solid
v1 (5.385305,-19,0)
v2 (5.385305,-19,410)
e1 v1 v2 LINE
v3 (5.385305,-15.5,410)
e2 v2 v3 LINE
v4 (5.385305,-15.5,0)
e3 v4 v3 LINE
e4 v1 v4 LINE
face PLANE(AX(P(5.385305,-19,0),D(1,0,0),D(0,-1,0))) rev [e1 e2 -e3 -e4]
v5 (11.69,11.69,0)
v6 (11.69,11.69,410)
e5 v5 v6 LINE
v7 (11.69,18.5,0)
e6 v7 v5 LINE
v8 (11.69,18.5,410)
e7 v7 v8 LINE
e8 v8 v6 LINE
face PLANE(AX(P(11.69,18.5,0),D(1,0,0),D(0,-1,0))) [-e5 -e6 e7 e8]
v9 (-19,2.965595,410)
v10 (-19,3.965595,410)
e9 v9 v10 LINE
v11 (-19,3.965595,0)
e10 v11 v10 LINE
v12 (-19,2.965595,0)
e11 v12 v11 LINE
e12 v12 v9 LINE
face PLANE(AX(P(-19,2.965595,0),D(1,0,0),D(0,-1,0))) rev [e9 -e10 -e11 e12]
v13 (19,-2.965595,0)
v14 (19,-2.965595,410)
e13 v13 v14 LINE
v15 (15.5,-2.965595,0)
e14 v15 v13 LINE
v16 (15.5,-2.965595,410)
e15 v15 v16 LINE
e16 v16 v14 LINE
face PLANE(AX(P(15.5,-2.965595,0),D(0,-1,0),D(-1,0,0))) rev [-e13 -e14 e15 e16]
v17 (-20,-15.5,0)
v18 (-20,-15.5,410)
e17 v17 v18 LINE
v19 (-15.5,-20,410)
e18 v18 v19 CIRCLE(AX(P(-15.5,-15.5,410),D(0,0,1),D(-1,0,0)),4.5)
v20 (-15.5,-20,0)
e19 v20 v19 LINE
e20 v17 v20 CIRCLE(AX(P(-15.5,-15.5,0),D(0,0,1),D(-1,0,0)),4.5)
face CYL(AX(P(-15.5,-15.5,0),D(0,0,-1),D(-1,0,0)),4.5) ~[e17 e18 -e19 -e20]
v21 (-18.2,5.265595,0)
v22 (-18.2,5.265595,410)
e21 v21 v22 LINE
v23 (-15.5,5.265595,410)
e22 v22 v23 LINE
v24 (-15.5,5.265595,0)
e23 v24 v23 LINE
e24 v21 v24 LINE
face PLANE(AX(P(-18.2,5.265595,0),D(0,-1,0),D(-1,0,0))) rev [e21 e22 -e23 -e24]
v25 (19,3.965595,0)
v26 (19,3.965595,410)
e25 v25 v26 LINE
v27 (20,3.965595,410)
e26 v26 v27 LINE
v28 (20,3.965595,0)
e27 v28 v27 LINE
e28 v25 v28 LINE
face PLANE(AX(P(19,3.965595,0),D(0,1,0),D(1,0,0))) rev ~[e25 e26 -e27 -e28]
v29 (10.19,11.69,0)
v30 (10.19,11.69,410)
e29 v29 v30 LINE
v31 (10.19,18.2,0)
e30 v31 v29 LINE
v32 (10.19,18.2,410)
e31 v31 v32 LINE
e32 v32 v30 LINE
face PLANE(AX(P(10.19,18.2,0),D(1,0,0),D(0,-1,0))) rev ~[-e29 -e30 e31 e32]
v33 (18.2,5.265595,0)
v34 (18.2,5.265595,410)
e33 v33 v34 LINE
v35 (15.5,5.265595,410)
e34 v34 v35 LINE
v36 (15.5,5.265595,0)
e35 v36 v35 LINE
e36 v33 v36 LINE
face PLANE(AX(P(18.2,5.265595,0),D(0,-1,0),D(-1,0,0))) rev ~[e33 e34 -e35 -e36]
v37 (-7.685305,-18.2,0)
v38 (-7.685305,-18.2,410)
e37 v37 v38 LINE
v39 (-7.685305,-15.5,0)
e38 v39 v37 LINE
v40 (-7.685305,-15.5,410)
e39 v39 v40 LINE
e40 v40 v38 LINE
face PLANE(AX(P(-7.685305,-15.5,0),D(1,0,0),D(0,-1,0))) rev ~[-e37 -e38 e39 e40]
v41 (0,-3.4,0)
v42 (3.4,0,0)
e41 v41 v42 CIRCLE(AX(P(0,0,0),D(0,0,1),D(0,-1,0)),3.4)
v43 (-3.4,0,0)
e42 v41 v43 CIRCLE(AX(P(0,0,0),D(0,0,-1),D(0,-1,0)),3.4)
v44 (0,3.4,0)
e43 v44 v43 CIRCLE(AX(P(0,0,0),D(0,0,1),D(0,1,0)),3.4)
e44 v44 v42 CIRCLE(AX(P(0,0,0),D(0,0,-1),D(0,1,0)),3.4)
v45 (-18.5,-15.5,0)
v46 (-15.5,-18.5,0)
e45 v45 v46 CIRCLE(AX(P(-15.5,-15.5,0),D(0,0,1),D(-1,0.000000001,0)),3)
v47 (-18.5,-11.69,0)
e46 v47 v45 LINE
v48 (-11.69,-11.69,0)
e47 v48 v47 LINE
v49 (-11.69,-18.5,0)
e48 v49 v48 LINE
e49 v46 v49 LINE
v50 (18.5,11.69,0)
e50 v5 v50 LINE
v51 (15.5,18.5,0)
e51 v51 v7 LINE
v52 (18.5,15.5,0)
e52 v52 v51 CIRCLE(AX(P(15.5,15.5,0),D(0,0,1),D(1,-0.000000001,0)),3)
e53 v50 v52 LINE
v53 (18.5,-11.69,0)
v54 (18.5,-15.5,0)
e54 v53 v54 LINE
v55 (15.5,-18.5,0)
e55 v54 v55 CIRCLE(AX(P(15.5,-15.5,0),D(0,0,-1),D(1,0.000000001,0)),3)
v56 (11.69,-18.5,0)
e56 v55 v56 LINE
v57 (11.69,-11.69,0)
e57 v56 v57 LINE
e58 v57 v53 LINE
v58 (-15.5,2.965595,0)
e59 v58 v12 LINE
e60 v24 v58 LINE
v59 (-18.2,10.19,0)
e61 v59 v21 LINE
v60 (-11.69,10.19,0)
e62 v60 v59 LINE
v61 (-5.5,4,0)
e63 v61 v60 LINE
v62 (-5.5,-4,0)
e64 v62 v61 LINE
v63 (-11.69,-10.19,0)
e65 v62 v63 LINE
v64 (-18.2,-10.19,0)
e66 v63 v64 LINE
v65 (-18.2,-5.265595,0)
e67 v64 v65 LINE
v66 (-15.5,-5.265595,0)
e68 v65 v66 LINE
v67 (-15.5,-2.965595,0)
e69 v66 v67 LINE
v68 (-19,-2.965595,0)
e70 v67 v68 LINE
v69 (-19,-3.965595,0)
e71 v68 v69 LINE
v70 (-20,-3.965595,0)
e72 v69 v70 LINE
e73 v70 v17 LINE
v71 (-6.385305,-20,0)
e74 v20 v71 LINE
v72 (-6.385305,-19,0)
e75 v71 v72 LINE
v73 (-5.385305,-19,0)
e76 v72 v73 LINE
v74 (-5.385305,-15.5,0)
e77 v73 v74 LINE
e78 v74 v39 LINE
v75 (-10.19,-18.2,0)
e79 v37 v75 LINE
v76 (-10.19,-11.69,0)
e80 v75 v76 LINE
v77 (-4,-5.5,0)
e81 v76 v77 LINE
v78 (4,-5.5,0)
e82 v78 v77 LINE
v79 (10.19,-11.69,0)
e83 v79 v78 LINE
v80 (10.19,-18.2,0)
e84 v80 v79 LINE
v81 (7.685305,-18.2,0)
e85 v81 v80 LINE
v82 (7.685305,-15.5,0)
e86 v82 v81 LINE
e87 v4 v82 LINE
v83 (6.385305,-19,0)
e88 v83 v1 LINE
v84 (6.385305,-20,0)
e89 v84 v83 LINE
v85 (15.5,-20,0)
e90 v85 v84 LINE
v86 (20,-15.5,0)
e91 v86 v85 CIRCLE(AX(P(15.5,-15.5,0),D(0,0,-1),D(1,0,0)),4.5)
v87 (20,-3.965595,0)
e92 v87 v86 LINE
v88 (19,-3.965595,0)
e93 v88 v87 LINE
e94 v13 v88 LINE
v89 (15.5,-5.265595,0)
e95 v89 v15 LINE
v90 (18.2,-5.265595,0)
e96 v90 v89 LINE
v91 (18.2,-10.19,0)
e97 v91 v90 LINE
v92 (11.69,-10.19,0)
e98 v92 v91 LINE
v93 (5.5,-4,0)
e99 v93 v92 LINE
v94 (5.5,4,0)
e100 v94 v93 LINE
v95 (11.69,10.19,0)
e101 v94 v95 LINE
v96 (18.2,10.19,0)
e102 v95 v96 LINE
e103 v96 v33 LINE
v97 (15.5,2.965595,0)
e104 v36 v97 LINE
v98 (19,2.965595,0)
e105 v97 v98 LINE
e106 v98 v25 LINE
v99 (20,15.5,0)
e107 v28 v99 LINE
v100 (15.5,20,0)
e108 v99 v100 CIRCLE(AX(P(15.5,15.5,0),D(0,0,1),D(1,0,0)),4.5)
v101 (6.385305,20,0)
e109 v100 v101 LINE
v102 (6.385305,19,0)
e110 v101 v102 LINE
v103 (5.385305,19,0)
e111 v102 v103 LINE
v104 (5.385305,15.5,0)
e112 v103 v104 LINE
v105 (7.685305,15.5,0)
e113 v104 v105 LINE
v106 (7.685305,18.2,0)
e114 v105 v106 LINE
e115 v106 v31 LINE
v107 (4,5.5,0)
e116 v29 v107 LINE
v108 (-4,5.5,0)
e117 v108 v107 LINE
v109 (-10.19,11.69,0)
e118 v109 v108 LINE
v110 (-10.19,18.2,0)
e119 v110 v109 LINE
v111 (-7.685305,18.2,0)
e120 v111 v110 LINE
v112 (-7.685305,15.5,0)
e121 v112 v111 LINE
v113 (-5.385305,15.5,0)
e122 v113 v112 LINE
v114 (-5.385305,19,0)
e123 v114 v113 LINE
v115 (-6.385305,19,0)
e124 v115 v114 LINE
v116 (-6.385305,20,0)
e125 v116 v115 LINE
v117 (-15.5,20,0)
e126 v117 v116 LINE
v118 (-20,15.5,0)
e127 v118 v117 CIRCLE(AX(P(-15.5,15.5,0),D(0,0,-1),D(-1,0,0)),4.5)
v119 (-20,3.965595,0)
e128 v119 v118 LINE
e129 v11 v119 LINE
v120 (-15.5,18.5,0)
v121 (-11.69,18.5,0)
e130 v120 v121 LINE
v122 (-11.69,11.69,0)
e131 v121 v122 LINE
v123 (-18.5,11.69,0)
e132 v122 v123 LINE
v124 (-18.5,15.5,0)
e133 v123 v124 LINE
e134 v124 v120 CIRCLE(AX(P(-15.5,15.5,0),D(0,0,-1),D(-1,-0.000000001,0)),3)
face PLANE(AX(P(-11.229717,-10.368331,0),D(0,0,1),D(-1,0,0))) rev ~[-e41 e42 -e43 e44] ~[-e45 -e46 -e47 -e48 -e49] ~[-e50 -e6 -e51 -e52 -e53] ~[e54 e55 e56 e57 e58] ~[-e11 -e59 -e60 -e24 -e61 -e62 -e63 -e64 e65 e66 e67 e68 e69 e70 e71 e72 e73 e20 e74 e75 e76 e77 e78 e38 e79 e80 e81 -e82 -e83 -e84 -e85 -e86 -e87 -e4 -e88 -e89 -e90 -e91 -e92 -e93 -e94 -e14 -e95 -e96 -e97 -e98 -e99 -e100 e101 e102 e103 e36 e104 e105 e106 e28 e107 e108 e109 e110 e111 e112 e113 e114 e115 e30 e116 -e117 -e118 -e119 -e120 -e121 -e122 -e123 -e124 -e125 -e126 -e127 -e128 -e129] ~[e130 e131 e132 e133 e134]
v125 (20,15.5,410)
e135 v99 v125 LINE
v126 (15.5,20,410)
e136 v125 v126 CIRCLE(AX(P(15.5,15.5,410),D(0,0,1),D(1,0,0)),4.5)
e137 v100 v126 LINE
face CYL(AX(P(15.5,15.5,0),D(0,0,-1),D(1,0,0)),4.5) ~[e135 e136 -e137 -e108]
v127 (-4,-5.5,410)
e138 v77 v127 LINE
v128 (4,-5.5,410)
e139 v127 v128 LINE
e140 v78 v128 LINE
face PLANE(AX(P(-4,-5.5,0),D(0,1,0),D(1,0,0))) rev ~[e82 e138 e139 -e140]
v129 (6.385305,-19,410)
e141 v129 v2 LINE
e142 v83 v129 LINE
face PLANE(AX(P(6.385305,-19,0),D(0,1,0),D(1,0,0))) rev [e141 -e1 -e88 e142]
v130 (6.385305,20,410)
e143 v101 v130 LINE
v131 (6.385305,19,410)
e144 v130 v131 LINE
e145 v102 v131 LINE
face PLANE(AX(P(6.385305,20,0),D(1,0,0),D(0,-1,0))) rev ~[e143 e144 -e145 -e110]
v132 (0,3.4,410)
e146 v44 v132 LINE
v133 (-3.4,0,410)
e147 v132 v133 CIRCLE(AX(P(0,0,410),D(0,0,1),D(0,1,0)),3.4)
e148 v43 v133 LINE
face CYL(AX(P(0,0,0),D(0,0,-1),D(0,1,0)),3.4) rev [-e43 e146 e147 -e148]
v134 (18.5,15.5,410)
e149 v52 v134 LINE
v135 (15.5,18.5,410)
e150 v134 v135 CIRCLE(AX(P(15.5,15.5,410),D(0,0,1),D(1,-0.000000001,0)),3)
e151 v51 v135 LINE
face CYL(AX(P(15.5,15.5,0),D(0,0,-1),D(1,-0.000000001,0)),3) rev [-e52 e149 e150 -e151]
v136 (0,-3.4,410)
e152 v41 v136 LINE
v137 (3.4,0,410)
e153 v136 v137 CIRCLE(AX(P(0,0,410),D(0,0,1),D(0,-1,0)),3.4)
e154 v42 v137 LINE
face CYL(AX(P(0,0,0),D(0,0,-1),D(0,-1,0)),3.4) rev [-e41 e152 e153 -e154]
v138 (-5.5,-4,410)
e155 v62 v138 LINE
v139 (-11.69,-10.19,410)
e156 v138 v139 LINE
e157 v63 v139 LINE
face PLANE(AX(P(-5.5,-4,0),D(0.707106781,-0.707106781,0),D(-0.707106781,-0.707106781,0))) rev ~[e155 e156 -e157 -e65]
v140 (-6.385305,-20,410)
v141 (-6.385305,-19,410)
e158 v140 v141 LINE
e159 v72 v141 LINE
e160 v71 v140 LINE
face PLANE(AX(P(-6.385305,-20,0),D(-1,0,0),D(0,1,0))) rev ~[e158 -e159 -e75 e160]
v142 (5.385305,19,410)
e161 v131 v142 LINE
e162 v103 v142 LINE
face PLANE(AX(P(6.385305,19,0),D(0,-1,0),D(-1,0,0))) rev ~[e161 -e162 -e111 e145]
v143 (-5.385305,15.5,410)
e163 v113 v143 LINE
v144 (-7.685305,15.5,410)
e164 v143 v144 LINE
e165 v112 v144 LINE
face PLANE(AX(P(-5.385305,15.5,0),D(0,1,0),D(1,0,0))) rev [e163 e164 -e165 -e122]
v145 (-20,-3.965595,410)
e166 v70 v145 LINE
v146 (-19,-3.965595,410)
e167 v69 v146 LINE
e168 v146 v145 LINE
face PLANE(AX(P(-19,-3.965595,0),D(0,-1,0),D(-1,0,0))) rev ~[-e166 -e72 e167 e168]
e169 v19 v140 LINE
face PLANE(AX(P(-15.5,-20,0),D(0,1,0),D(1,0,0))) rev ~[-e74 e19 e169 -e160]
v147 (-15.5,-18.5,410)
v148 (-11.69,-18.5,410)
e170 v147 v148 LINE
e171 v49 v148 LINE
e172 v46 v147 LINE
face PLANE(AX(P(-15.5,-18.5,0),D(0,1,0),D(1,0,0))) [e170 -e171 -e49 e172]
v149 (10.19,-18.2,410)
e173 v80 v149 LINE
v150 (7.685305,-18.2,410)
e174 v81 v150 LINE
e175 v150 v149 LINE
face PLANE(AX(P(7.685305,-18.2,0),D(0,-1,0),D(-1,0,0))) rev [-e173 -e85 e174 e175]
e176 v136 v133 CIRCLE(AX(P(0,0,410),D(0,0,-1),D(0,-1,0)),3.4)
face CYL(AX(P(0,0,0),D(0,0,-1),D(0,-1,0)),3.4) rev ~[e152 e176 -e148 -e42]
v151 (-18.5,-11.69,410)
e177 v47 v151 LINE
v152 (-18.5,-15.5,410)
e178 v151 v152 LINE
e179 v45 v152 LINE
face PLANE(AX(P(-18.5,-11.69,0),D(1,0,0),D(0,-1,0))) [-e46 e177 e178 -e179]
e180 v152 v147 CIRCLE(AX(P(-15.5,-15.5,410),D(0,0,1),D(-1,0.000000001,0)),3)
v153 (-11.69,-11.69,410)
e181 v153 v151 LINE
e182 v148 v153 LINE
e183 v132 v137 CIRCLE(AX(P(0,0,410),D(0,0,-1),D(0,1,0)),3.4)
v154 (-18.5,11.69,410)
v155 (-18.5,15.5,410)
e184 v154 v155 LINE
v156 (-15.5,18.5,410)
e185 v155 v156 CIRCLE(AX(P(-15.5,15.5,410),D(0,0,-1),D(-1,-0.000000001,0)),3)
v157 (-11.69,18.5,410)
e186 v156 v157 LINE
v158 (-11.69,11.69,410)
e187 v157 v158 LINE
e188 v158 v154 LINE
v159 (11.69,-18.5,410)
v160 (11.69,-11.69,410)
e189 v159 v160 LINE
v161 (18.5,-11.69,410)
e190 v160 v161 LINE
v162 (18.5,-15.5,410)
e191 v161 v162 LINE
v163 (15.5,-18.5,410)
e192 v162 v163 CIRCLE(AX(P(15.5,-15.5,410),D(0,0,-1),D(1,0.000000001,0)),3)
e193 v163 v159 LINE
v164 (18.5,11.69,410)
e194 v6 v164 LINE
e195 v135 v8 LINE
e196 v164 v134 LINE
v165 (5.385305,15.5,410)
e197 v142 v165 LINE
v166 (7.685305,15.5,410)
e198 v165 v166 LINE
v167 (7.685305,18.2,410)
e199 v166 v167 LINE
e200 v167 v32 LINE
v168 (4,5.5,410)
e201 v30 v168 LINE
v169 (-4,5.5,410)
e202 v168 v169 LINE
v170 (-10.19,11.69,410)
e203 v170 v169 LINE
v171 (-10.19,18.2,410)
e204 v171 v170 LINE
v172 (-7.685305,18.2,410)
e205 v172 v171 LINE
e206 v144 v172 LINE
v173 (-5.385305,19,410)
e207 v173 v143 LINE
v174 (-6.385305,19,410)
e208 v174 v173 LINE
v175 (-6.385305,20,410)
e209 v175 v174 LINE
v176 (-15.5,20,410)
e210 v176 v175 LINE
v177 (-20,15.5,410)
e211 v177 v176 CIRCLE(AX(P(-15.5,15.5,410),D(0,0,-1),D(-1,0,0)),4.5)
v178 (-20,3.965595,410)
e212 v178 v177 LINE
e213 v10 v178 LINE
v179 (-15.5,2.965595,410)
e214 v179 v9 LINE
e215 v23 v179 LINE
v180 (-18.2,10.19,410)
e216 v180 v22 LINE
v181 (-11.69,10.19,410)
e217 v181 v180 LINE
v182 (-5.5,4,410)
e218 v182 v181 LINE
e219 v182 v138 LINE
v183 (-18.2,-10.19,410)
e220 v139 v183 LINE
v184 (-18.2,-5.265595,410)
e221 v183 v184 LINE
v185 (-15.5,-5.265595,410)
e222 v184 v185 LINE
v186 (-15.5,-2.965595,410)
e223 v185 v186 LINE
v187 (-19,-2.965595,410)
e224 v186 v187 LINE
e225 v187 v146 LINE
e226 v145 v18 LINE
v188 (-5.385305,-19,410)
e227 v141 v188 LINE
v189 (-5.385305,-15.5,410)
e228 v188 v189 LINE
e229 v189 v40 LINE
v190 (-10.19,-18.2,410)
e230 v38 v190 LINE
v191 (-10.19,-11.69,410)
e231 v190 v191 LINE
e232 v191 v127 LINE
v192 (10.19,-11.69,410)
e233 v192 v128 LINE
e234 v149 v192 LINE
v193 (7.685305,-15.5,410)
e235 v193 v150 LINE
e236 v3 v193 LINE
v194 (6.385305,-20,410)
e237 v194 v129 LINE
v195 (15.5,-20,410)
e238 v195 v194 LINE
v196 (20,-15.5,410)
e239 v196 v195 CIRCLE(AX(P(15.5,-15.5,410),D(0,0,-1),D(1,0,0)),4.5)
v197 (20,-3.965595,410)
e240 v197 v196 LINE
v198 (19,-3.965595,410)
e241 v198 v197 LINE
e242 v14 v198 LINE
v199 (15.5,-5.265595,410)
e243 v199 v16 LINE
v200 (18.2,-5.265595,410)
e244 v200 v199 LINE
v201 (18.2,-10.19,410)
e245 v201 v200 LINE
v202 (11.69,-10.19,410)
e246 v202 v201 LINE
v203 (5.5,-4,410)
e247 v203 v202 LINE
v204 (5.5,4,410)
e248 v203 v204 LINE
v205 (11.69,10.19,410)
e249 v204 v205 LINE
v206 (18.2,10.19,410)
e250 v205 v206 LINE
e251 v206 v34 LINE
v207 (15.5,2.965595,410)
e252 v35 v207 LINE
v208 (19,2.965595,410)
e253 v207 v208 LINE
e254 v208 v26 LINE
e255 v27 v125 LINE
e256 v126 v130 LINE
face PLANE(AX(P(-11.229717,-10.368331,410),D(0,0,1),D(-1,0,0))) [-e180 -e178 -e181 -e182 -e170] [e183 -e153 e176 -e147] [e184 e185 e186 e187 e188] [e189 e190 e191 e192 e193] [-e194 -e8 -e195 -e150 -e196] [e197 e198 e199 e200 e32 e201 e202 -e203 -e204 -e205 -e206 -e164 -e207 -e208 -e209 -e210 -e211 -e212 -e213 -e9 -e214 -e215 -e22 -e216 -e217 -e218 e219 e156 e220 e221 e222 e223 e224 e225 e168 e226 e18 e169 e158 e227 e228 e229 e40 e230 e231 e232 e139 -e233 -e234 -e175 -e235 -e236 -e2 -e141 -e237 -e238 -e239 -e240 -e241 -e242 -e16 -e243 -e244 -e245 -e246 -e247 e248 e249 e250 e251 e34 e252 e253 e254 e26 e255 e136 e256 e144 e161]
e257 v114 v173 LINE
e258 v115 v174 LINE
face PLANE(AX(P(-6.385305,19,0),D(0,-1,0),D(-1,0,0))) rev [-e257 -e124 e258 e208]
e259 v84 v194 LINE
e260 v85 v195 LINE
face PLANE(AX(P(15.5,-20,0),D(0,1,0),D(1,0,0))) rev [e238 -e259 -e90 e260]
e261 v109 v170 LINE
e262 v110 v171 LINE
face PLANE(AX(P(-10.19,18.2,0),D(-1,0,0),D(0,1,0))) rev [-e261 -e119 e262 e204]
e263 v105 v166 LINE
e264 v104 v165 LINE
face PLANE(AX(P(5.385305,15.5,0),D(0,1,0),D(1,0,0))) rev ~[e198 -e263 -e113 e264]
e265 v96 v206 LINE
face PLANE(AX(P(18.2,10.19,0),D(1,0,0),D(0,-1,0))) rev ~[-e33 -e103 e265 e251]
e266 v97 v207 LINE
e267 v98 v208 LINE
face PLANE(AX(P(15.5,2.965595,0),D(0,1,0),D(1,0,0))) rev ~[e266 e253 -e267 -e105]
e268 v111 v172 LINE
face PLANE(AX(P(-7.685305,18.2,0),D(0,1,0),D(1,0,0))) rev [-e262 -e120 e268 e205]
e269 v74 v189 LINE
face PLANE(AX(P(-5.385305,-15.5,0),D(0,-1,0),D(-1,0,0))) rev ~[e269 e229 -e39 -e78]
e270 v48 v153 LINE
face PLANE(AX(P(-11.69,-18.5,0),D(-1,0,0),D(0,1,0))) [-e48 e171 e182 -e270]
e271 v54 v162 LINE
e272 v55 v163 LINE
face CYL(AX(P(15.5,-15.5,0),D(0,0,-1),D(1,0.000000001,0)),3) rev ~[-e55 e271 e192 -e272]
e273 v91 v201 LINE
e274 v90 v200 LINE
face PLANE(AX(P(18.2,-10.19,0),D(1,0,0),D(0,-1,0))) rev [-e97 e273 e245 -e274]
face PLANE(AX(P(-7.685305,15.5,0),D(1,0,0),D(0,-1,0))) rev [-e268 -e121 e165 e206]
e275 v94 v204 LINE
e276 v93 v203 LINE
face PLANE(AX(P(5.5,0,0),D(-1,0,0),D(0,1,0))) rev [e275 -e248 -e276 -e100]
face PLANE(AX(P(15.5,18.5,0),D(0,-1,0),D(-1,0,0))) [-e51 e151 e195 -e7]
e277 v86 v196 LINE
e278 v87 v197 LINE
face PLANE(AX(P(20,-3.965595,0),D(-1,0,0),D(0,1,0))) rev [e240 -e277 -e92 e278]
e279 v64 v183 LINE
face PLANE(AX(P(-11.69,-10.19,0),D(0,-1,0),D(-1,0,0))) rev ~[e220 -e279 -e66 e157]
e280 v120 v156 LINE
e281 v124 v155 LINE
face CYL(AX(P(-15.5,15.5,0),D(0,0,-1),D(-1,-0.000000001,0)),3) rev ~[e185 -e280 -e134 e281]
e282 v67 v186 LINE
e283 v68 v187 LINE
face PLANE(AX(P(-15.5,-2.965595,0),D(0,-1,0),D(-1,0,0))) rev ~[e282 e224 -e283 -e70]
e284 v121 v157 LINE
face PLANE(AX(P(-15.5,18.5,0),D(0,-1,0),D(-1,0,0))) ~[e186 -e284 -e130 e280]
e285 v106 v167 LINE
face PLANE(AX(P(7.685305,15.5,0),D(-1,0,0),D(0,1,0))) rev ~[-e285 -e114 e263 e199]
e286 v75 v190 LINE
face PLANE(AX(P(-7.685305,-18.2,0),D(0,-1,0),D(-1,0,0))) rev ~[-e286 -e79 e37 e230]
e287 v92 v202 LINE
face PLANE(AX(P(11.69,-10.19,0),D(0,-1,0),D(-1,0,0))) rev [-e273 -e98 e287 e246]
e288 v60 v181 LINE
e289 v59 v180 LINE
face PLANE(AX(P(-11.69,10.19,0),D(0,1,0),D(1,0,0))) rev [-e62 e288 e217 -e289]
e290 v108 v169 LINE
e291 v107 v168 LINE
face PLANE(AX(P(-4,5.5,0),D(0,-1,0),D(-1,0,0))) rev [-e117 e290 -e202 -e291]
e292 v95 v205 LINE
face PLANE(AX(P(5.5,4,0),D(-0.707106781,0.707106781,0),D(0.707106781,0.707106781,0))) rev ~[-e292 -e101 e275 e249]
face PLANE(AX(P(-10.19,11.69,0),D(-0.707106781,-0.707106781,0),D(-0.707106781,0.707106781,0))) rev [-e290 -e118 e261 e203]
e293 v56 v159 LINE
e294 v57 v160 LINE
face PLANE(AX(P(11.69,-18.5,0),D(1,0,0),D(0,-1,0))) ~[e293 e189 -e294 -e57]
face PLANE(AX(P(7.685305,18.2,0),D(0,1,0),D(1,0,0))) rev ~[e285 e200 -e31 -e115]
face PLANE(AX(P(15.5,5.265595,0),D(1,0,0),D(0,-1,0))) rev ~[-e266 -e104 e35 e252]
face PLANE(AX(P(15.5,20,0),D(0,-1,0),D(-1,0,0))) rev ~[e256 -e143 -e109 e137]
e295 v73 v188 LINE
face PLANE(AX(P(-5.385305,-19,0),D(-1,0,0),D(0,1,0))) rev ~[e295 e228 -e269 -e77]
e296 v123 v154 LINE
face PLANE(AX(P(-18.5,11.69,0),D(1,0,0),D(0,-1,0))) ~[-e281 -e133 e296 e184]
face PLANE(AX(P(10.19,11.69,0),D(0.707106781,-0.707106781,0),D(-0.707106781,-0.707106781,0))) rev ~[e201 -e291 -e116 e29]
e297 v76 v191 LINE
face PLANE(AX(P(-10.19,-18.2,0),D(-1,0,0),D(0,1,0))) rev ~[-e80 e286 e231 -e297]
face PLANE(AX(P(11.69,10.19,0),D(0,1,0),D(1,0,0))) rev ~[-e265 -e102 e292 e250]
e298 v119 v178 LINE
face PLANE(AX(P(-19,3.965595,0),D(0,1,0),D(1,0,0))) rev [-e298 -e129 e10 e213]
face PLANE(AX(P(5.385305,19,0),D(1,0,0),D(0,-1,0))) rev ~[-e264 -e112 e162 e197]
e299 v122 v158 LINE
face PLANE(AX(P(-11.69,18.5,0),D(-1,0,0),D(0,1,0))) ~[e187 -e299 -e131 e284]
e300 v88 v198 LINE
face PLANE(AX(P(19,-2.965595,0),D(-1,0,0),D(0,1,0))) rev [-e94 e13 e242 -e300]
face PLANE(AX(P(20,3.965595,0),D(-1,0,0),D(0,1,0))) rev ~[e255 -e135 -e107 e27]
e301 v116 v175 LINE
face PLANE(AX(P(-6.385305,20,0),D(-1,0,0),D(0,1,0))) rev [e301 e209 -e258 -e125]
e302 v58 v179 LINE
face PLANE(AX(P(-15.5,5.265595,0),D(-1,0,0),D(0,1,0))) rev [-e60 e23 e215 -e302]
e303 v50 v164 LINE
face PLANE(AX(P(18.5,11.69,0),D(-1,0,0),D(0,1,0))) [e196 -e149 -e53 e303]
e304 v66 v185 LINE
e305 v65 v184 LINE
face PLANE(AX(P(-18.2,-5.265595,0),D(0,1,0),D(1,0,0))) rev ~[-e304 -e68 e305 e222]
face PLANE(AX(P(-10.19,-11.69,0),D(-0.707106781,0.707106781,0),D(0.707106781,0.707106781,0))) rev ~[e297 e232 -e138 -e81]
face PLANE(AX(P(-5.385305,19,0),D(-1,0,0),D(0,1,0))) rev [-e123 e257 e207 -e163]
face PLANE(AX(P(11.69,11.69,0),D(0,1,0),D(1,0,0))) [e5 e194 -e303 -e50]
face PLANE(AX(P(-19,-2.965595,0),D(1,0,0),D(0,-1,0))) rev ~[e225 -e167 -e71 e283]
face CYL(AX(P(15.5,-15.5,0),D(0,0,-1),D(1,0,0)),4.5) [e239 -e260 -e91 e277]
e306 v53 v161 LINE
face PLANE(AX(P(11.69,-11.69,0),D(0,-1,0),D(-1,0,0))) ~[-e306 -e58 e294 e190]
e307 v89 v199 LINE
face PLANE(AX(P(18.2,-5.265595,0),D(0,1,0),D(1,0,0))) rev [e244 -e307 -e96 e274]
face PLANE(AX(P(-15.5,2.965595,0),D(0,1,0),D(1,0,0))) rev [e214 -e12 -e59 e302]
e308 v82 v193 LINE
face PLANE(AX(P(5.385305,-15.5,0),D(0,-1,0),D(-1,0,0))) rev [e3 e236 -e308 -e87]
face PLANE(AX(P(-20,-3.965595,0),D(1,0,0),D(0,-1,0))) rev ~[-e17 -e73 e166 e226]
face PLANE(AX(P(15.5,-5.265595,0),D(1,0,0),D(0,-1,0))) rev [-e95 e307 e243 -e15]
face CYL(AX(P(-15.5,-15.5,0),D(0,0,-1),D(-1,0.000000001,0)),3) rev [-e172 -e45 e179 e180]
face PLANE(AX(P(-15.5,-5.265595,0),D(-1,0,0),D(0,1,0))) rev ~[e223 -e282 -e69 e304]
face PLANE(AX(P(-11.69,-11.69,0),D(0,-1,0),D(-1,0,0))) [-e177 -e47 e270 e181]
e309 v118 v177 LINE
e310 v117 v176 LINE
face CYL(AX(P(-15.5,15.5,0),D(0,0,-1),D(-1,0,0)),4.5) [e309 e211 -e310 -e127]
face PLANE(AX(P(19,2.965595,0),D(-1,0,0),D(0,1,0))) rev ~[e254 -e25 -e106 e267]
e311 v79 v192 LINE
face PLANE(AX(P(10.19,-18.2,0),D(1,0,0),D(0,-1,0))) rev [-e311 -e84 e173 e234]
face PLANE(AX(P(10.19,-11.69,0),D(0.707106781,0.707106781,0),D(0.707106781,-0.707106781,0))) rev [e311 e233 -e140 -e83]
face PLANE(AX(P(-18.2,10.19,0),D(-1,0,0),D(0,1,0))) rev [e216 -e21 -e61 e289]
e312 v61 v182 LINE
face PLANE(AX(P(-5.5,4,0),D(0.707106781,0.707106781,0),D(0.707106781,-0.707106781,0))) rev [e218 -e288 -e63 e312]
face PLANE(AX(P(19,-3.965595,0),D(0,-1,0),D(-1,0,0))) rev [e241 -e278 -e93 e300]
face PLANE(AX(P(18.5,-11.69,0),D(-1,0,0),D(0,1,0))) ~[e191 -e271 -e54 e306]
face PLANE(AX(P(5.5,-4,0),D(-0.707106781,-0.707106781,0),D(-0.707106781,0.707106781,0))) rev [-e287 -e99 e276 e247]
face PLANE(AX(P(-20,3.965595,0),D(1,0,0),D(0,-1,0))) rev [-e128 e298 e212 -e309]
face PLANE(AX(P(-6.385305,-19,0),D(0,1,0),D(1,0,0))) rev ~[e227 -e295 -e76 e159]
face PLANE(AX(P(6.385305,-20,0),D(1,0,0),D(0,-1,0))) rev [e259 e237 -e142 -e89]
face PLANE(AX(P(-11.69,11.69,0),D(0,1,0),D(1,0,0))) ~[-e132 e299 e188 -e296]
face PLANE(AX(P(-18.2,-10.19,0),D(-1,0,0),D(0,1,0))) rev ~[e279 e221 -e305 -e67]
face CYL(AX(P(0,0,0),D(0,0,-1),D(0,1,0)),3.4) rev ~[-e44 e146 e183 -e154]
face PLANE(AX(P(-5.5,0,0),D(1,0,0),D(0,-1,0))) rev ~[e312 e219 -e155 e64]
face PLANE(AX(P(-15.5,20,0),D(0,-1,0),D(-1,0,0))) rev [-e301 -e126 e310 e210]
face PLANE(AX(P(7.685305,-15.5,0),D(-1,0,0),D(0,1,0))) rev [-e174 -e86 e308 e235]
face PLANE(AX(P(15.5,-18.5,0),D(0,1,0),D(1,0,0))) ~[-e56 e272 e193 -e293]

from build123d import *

# Parameters (mm, degrees)
BOSS_EXTRUDE1_DEPTH  = 410
MIRROR3_COPY_1_DEPTH = 410
MIRROR3_COPY_2_DEPTH = 410


with BuildPart() as part:
    # Sketch1 → Boss-Extrude1 (new body)
    with BuildSketch(Plane.XY):
        with BuildLine():
            Line((3.4, 0), (5.5, 0))
            Line((5.5, 0), (5.5, 4))
            Line((5.5, 4), (11.69, 10.19))
            Line((11.69, 10.19), (18.2, 10.19))
            Line((18.2, 10.19), (18.2, 5.265595036))
            Line((18.2, 5.265595036), (15.5, 5.265595036))
            Line((15.5, 5.265595036), (15.5, 2.965595036))
            Line((15.5, 2.965595036), (19, 2.965595036))
            Line((19, 2.965595036), (19, 3.965595036))
            Line((19, 3.965595036), (20, 3.965595036))
            Line((20, 3.965595036), (20, 15.5))
            ThreePointArc((20, 15.5), (18.681980515, 18.681980515), (15.5, 20))
            Line((15.5, 20), (6.385304712, 20))
            Line((6.385304712, 20), (6.385304712, 19))
            Line((6.385304712, 19), (5.385304712, 19))
            Line((5.385304712, 19), (5.385304712, 15.5))
            Line((5.385304712, 15.5), (7.685304712, 15.5))
            Line((7.685304712, 15.5), (7.685304712, 18.2))
            Line((7.685304712, 18.2), (10.19, 18.2))
            Line((10.19, 18.2), (10.19, 11.69))
            Line((10.19, 11.69), (4, 5.5))
            Line((4, 5.5), (0, 5.5))
            Line((0, 5.5), (0, 3.4))
            ThreePointArc((0, 3.4), (2.404163056, 2.404163056), (3.4, 0))
        make_face()
        with BuildLine():
            Line((18.5, 11.69), (18.5, 15.5))
            ThreePointArc((18.5, 15.5), (17.621320344, 17.621320344), (15.5, 18.5))
            Line((15.5, 18.5), (11.69, 18.5))
            Line((11.69, 18.5), (11.69, 11.69))
            Line((11.69, 11.69), (18.5, 11.69))
        make_face(mode=Mode.SUBTRACT)
    boss_extrude1 = extrude(amount=BOSS_EXTRUDE1_DEPTH)

    # Mirror1: Boss-Extrude1 across plane
    add(boss_extrude1.mirror(Plane.ZX))

    # Mirror2: Boss-Extrude1 across plane
    add(boss_extrude1.mirror(Plane(origin=(0, 0, 0), x_dir=(0, 0, 1), z_dir=(1, 0, 0))))

    # Mirror3 copy 1 sketch → Mirror3 copy 1 (add)
    with BuildSketch(Plane(origin=(0, 0, 0), x_dir=(-1, 0, 0), z_dir=(0, 0, 1))):
        with BuildLine():
            Line((3.4, 0), (5.5, 0))
            Line((5.5, 0), (5.5, 4))
            Line((5.5, 4), (11.69, 10.19))
            Line((11.69, 10.19), (18.2, 10.19))
            Line((18.2, 10.19), (18.2, 5.265595036))
            Line((18.2, 5.265595036), (15.5, 5.265595036))
            Line((15.5, 5.265595036), (15.5, 2.965595036))
            Line((15.5, 2.965595036), (19, 2.965595036))
            Line((19, 2.965595036), (19, 3.965595036))
            Line((19, 3.965595036), (20, 3.965595036))
            Line((20, 3.965595036), (20, 15.5))
            ThreePointArc((20, 15.5), (18.681980515, 18.681980515), (15.5, 20))
            Line((15.5, 20), (6.385304712, 20))
            Line((6.385304712, 20), (6.385304712, 19))
            Line((6.385304712, 19), (5.385304712, 19))
            Line((5.385304712, 19), (5.385304712, 15.5))
            Line((5.385304712, 15.5), (7.685304712, 15.5))
            Line((7.685304712, 15.5), (7.685304712, 18.2))
            Line((7.685304712, 18.2), (10.19, 18.2))
            Line((10.19, 18.2), (10.19, 11.69))
            Line((10.19, 11.69), (4, 5.5))
            Line((4, 5.5), (0, 5.5))
            Line((0, 5.5), (0, 3.4))
            ThreePointArc((0, 3.4), (2.404163056, 2.404163056), (3.4, 0))
        make_face()
        with BuildLine():
            Line((18.5, 11.69), (18.5, 15.5))
            ThreePointArc((18.5, 15.5), (17.621320344, 17.621320344), (15.5, 18.5))
            Line((15.5, 18.5), (11.69, 18.5))
            Line((11.69, 18.5), (11.69, 11.69))
            Line((11.69, 11.69), (18.5, 11.69))
        make_face(mode=Mode.SUBTRACT)
    extrude(amount=MIRROR3_COPY_1_DEPTH)

    # Mirror3 copy 2 sketch → Mirror3 copy 2 (add)
    with BuildSketch(Plane.XY):
        with BuildLine():
            Line((3.4, 0), (5.5, 0))
            Line((5.5, 0), (5.5, -4))
            Line((5.5, -4), (11.69, -10.19))
            Line((11.69, -10.19), (18.2, -10.19))
            Line((18.2, -10.19), (18.2, -5.265595036))
            Line((18.2, -5.265595036), (15.5, -5.265595036))
            Line((15.5, -5.265595036), (15.5, -2.965595036))
            Line((15.5, -2.965595036), (19, -2.965595036))
            Line((19, -2.965595036), (19, -3.965595036))
            Line((19, -3.965595036), (20, -3.965595036))
            Line((20, -3.965595036), (20, -15.5))
            ThreePointArc((20, -15.5), (18.681980515, -18.681980515), (15.5, -20))
            Line((15.5, -20), (6.385304712, -20))
            Line((6.385304712, -20), (6.385304712, -19))
            Line((6.385304712, -19), (5.385304712, -19))
            Line((5.385304712, -19), (5.385304712, -15.5))
            Line((5.385304712, -15.5), (7.685304712, -15.5))
            Line((7.685304712, -15.5), (7.685304712, -18.2))
            Line((7.685304712, -18.2), (10.19, -18.2))
            Line((10.19, -18.2), (10.19, -11.69))
            Line((10.19, -11.69), (4, -5.5))
            Line((4, -5.5), (0, -5.5))
            Line((0, -5.5), (0, -3.4))
            ThreePointArc((0, -3.4), (2.404163056, -2.404163056), (3.4, 0))
        make_face()
        with BuildLine():
            Line((18.5, -11.69), (18.5, -15.5))
            ThreePointArc((18.5, -15.5), (17.621320344, -17.621320344), (15.5, -18.5))
            Line((15.5, -18.5), (11.69, -18.5))
            Line((11.69, -18.5), (11.69, -11.69))
            Line((11.69, -11.69), (18.5, -11.69))
        make_face(mode=Mode.SUBTRACT)
    extrude(amount=MIRROR3_COPY_2_DEPTH)


solid = part.part
